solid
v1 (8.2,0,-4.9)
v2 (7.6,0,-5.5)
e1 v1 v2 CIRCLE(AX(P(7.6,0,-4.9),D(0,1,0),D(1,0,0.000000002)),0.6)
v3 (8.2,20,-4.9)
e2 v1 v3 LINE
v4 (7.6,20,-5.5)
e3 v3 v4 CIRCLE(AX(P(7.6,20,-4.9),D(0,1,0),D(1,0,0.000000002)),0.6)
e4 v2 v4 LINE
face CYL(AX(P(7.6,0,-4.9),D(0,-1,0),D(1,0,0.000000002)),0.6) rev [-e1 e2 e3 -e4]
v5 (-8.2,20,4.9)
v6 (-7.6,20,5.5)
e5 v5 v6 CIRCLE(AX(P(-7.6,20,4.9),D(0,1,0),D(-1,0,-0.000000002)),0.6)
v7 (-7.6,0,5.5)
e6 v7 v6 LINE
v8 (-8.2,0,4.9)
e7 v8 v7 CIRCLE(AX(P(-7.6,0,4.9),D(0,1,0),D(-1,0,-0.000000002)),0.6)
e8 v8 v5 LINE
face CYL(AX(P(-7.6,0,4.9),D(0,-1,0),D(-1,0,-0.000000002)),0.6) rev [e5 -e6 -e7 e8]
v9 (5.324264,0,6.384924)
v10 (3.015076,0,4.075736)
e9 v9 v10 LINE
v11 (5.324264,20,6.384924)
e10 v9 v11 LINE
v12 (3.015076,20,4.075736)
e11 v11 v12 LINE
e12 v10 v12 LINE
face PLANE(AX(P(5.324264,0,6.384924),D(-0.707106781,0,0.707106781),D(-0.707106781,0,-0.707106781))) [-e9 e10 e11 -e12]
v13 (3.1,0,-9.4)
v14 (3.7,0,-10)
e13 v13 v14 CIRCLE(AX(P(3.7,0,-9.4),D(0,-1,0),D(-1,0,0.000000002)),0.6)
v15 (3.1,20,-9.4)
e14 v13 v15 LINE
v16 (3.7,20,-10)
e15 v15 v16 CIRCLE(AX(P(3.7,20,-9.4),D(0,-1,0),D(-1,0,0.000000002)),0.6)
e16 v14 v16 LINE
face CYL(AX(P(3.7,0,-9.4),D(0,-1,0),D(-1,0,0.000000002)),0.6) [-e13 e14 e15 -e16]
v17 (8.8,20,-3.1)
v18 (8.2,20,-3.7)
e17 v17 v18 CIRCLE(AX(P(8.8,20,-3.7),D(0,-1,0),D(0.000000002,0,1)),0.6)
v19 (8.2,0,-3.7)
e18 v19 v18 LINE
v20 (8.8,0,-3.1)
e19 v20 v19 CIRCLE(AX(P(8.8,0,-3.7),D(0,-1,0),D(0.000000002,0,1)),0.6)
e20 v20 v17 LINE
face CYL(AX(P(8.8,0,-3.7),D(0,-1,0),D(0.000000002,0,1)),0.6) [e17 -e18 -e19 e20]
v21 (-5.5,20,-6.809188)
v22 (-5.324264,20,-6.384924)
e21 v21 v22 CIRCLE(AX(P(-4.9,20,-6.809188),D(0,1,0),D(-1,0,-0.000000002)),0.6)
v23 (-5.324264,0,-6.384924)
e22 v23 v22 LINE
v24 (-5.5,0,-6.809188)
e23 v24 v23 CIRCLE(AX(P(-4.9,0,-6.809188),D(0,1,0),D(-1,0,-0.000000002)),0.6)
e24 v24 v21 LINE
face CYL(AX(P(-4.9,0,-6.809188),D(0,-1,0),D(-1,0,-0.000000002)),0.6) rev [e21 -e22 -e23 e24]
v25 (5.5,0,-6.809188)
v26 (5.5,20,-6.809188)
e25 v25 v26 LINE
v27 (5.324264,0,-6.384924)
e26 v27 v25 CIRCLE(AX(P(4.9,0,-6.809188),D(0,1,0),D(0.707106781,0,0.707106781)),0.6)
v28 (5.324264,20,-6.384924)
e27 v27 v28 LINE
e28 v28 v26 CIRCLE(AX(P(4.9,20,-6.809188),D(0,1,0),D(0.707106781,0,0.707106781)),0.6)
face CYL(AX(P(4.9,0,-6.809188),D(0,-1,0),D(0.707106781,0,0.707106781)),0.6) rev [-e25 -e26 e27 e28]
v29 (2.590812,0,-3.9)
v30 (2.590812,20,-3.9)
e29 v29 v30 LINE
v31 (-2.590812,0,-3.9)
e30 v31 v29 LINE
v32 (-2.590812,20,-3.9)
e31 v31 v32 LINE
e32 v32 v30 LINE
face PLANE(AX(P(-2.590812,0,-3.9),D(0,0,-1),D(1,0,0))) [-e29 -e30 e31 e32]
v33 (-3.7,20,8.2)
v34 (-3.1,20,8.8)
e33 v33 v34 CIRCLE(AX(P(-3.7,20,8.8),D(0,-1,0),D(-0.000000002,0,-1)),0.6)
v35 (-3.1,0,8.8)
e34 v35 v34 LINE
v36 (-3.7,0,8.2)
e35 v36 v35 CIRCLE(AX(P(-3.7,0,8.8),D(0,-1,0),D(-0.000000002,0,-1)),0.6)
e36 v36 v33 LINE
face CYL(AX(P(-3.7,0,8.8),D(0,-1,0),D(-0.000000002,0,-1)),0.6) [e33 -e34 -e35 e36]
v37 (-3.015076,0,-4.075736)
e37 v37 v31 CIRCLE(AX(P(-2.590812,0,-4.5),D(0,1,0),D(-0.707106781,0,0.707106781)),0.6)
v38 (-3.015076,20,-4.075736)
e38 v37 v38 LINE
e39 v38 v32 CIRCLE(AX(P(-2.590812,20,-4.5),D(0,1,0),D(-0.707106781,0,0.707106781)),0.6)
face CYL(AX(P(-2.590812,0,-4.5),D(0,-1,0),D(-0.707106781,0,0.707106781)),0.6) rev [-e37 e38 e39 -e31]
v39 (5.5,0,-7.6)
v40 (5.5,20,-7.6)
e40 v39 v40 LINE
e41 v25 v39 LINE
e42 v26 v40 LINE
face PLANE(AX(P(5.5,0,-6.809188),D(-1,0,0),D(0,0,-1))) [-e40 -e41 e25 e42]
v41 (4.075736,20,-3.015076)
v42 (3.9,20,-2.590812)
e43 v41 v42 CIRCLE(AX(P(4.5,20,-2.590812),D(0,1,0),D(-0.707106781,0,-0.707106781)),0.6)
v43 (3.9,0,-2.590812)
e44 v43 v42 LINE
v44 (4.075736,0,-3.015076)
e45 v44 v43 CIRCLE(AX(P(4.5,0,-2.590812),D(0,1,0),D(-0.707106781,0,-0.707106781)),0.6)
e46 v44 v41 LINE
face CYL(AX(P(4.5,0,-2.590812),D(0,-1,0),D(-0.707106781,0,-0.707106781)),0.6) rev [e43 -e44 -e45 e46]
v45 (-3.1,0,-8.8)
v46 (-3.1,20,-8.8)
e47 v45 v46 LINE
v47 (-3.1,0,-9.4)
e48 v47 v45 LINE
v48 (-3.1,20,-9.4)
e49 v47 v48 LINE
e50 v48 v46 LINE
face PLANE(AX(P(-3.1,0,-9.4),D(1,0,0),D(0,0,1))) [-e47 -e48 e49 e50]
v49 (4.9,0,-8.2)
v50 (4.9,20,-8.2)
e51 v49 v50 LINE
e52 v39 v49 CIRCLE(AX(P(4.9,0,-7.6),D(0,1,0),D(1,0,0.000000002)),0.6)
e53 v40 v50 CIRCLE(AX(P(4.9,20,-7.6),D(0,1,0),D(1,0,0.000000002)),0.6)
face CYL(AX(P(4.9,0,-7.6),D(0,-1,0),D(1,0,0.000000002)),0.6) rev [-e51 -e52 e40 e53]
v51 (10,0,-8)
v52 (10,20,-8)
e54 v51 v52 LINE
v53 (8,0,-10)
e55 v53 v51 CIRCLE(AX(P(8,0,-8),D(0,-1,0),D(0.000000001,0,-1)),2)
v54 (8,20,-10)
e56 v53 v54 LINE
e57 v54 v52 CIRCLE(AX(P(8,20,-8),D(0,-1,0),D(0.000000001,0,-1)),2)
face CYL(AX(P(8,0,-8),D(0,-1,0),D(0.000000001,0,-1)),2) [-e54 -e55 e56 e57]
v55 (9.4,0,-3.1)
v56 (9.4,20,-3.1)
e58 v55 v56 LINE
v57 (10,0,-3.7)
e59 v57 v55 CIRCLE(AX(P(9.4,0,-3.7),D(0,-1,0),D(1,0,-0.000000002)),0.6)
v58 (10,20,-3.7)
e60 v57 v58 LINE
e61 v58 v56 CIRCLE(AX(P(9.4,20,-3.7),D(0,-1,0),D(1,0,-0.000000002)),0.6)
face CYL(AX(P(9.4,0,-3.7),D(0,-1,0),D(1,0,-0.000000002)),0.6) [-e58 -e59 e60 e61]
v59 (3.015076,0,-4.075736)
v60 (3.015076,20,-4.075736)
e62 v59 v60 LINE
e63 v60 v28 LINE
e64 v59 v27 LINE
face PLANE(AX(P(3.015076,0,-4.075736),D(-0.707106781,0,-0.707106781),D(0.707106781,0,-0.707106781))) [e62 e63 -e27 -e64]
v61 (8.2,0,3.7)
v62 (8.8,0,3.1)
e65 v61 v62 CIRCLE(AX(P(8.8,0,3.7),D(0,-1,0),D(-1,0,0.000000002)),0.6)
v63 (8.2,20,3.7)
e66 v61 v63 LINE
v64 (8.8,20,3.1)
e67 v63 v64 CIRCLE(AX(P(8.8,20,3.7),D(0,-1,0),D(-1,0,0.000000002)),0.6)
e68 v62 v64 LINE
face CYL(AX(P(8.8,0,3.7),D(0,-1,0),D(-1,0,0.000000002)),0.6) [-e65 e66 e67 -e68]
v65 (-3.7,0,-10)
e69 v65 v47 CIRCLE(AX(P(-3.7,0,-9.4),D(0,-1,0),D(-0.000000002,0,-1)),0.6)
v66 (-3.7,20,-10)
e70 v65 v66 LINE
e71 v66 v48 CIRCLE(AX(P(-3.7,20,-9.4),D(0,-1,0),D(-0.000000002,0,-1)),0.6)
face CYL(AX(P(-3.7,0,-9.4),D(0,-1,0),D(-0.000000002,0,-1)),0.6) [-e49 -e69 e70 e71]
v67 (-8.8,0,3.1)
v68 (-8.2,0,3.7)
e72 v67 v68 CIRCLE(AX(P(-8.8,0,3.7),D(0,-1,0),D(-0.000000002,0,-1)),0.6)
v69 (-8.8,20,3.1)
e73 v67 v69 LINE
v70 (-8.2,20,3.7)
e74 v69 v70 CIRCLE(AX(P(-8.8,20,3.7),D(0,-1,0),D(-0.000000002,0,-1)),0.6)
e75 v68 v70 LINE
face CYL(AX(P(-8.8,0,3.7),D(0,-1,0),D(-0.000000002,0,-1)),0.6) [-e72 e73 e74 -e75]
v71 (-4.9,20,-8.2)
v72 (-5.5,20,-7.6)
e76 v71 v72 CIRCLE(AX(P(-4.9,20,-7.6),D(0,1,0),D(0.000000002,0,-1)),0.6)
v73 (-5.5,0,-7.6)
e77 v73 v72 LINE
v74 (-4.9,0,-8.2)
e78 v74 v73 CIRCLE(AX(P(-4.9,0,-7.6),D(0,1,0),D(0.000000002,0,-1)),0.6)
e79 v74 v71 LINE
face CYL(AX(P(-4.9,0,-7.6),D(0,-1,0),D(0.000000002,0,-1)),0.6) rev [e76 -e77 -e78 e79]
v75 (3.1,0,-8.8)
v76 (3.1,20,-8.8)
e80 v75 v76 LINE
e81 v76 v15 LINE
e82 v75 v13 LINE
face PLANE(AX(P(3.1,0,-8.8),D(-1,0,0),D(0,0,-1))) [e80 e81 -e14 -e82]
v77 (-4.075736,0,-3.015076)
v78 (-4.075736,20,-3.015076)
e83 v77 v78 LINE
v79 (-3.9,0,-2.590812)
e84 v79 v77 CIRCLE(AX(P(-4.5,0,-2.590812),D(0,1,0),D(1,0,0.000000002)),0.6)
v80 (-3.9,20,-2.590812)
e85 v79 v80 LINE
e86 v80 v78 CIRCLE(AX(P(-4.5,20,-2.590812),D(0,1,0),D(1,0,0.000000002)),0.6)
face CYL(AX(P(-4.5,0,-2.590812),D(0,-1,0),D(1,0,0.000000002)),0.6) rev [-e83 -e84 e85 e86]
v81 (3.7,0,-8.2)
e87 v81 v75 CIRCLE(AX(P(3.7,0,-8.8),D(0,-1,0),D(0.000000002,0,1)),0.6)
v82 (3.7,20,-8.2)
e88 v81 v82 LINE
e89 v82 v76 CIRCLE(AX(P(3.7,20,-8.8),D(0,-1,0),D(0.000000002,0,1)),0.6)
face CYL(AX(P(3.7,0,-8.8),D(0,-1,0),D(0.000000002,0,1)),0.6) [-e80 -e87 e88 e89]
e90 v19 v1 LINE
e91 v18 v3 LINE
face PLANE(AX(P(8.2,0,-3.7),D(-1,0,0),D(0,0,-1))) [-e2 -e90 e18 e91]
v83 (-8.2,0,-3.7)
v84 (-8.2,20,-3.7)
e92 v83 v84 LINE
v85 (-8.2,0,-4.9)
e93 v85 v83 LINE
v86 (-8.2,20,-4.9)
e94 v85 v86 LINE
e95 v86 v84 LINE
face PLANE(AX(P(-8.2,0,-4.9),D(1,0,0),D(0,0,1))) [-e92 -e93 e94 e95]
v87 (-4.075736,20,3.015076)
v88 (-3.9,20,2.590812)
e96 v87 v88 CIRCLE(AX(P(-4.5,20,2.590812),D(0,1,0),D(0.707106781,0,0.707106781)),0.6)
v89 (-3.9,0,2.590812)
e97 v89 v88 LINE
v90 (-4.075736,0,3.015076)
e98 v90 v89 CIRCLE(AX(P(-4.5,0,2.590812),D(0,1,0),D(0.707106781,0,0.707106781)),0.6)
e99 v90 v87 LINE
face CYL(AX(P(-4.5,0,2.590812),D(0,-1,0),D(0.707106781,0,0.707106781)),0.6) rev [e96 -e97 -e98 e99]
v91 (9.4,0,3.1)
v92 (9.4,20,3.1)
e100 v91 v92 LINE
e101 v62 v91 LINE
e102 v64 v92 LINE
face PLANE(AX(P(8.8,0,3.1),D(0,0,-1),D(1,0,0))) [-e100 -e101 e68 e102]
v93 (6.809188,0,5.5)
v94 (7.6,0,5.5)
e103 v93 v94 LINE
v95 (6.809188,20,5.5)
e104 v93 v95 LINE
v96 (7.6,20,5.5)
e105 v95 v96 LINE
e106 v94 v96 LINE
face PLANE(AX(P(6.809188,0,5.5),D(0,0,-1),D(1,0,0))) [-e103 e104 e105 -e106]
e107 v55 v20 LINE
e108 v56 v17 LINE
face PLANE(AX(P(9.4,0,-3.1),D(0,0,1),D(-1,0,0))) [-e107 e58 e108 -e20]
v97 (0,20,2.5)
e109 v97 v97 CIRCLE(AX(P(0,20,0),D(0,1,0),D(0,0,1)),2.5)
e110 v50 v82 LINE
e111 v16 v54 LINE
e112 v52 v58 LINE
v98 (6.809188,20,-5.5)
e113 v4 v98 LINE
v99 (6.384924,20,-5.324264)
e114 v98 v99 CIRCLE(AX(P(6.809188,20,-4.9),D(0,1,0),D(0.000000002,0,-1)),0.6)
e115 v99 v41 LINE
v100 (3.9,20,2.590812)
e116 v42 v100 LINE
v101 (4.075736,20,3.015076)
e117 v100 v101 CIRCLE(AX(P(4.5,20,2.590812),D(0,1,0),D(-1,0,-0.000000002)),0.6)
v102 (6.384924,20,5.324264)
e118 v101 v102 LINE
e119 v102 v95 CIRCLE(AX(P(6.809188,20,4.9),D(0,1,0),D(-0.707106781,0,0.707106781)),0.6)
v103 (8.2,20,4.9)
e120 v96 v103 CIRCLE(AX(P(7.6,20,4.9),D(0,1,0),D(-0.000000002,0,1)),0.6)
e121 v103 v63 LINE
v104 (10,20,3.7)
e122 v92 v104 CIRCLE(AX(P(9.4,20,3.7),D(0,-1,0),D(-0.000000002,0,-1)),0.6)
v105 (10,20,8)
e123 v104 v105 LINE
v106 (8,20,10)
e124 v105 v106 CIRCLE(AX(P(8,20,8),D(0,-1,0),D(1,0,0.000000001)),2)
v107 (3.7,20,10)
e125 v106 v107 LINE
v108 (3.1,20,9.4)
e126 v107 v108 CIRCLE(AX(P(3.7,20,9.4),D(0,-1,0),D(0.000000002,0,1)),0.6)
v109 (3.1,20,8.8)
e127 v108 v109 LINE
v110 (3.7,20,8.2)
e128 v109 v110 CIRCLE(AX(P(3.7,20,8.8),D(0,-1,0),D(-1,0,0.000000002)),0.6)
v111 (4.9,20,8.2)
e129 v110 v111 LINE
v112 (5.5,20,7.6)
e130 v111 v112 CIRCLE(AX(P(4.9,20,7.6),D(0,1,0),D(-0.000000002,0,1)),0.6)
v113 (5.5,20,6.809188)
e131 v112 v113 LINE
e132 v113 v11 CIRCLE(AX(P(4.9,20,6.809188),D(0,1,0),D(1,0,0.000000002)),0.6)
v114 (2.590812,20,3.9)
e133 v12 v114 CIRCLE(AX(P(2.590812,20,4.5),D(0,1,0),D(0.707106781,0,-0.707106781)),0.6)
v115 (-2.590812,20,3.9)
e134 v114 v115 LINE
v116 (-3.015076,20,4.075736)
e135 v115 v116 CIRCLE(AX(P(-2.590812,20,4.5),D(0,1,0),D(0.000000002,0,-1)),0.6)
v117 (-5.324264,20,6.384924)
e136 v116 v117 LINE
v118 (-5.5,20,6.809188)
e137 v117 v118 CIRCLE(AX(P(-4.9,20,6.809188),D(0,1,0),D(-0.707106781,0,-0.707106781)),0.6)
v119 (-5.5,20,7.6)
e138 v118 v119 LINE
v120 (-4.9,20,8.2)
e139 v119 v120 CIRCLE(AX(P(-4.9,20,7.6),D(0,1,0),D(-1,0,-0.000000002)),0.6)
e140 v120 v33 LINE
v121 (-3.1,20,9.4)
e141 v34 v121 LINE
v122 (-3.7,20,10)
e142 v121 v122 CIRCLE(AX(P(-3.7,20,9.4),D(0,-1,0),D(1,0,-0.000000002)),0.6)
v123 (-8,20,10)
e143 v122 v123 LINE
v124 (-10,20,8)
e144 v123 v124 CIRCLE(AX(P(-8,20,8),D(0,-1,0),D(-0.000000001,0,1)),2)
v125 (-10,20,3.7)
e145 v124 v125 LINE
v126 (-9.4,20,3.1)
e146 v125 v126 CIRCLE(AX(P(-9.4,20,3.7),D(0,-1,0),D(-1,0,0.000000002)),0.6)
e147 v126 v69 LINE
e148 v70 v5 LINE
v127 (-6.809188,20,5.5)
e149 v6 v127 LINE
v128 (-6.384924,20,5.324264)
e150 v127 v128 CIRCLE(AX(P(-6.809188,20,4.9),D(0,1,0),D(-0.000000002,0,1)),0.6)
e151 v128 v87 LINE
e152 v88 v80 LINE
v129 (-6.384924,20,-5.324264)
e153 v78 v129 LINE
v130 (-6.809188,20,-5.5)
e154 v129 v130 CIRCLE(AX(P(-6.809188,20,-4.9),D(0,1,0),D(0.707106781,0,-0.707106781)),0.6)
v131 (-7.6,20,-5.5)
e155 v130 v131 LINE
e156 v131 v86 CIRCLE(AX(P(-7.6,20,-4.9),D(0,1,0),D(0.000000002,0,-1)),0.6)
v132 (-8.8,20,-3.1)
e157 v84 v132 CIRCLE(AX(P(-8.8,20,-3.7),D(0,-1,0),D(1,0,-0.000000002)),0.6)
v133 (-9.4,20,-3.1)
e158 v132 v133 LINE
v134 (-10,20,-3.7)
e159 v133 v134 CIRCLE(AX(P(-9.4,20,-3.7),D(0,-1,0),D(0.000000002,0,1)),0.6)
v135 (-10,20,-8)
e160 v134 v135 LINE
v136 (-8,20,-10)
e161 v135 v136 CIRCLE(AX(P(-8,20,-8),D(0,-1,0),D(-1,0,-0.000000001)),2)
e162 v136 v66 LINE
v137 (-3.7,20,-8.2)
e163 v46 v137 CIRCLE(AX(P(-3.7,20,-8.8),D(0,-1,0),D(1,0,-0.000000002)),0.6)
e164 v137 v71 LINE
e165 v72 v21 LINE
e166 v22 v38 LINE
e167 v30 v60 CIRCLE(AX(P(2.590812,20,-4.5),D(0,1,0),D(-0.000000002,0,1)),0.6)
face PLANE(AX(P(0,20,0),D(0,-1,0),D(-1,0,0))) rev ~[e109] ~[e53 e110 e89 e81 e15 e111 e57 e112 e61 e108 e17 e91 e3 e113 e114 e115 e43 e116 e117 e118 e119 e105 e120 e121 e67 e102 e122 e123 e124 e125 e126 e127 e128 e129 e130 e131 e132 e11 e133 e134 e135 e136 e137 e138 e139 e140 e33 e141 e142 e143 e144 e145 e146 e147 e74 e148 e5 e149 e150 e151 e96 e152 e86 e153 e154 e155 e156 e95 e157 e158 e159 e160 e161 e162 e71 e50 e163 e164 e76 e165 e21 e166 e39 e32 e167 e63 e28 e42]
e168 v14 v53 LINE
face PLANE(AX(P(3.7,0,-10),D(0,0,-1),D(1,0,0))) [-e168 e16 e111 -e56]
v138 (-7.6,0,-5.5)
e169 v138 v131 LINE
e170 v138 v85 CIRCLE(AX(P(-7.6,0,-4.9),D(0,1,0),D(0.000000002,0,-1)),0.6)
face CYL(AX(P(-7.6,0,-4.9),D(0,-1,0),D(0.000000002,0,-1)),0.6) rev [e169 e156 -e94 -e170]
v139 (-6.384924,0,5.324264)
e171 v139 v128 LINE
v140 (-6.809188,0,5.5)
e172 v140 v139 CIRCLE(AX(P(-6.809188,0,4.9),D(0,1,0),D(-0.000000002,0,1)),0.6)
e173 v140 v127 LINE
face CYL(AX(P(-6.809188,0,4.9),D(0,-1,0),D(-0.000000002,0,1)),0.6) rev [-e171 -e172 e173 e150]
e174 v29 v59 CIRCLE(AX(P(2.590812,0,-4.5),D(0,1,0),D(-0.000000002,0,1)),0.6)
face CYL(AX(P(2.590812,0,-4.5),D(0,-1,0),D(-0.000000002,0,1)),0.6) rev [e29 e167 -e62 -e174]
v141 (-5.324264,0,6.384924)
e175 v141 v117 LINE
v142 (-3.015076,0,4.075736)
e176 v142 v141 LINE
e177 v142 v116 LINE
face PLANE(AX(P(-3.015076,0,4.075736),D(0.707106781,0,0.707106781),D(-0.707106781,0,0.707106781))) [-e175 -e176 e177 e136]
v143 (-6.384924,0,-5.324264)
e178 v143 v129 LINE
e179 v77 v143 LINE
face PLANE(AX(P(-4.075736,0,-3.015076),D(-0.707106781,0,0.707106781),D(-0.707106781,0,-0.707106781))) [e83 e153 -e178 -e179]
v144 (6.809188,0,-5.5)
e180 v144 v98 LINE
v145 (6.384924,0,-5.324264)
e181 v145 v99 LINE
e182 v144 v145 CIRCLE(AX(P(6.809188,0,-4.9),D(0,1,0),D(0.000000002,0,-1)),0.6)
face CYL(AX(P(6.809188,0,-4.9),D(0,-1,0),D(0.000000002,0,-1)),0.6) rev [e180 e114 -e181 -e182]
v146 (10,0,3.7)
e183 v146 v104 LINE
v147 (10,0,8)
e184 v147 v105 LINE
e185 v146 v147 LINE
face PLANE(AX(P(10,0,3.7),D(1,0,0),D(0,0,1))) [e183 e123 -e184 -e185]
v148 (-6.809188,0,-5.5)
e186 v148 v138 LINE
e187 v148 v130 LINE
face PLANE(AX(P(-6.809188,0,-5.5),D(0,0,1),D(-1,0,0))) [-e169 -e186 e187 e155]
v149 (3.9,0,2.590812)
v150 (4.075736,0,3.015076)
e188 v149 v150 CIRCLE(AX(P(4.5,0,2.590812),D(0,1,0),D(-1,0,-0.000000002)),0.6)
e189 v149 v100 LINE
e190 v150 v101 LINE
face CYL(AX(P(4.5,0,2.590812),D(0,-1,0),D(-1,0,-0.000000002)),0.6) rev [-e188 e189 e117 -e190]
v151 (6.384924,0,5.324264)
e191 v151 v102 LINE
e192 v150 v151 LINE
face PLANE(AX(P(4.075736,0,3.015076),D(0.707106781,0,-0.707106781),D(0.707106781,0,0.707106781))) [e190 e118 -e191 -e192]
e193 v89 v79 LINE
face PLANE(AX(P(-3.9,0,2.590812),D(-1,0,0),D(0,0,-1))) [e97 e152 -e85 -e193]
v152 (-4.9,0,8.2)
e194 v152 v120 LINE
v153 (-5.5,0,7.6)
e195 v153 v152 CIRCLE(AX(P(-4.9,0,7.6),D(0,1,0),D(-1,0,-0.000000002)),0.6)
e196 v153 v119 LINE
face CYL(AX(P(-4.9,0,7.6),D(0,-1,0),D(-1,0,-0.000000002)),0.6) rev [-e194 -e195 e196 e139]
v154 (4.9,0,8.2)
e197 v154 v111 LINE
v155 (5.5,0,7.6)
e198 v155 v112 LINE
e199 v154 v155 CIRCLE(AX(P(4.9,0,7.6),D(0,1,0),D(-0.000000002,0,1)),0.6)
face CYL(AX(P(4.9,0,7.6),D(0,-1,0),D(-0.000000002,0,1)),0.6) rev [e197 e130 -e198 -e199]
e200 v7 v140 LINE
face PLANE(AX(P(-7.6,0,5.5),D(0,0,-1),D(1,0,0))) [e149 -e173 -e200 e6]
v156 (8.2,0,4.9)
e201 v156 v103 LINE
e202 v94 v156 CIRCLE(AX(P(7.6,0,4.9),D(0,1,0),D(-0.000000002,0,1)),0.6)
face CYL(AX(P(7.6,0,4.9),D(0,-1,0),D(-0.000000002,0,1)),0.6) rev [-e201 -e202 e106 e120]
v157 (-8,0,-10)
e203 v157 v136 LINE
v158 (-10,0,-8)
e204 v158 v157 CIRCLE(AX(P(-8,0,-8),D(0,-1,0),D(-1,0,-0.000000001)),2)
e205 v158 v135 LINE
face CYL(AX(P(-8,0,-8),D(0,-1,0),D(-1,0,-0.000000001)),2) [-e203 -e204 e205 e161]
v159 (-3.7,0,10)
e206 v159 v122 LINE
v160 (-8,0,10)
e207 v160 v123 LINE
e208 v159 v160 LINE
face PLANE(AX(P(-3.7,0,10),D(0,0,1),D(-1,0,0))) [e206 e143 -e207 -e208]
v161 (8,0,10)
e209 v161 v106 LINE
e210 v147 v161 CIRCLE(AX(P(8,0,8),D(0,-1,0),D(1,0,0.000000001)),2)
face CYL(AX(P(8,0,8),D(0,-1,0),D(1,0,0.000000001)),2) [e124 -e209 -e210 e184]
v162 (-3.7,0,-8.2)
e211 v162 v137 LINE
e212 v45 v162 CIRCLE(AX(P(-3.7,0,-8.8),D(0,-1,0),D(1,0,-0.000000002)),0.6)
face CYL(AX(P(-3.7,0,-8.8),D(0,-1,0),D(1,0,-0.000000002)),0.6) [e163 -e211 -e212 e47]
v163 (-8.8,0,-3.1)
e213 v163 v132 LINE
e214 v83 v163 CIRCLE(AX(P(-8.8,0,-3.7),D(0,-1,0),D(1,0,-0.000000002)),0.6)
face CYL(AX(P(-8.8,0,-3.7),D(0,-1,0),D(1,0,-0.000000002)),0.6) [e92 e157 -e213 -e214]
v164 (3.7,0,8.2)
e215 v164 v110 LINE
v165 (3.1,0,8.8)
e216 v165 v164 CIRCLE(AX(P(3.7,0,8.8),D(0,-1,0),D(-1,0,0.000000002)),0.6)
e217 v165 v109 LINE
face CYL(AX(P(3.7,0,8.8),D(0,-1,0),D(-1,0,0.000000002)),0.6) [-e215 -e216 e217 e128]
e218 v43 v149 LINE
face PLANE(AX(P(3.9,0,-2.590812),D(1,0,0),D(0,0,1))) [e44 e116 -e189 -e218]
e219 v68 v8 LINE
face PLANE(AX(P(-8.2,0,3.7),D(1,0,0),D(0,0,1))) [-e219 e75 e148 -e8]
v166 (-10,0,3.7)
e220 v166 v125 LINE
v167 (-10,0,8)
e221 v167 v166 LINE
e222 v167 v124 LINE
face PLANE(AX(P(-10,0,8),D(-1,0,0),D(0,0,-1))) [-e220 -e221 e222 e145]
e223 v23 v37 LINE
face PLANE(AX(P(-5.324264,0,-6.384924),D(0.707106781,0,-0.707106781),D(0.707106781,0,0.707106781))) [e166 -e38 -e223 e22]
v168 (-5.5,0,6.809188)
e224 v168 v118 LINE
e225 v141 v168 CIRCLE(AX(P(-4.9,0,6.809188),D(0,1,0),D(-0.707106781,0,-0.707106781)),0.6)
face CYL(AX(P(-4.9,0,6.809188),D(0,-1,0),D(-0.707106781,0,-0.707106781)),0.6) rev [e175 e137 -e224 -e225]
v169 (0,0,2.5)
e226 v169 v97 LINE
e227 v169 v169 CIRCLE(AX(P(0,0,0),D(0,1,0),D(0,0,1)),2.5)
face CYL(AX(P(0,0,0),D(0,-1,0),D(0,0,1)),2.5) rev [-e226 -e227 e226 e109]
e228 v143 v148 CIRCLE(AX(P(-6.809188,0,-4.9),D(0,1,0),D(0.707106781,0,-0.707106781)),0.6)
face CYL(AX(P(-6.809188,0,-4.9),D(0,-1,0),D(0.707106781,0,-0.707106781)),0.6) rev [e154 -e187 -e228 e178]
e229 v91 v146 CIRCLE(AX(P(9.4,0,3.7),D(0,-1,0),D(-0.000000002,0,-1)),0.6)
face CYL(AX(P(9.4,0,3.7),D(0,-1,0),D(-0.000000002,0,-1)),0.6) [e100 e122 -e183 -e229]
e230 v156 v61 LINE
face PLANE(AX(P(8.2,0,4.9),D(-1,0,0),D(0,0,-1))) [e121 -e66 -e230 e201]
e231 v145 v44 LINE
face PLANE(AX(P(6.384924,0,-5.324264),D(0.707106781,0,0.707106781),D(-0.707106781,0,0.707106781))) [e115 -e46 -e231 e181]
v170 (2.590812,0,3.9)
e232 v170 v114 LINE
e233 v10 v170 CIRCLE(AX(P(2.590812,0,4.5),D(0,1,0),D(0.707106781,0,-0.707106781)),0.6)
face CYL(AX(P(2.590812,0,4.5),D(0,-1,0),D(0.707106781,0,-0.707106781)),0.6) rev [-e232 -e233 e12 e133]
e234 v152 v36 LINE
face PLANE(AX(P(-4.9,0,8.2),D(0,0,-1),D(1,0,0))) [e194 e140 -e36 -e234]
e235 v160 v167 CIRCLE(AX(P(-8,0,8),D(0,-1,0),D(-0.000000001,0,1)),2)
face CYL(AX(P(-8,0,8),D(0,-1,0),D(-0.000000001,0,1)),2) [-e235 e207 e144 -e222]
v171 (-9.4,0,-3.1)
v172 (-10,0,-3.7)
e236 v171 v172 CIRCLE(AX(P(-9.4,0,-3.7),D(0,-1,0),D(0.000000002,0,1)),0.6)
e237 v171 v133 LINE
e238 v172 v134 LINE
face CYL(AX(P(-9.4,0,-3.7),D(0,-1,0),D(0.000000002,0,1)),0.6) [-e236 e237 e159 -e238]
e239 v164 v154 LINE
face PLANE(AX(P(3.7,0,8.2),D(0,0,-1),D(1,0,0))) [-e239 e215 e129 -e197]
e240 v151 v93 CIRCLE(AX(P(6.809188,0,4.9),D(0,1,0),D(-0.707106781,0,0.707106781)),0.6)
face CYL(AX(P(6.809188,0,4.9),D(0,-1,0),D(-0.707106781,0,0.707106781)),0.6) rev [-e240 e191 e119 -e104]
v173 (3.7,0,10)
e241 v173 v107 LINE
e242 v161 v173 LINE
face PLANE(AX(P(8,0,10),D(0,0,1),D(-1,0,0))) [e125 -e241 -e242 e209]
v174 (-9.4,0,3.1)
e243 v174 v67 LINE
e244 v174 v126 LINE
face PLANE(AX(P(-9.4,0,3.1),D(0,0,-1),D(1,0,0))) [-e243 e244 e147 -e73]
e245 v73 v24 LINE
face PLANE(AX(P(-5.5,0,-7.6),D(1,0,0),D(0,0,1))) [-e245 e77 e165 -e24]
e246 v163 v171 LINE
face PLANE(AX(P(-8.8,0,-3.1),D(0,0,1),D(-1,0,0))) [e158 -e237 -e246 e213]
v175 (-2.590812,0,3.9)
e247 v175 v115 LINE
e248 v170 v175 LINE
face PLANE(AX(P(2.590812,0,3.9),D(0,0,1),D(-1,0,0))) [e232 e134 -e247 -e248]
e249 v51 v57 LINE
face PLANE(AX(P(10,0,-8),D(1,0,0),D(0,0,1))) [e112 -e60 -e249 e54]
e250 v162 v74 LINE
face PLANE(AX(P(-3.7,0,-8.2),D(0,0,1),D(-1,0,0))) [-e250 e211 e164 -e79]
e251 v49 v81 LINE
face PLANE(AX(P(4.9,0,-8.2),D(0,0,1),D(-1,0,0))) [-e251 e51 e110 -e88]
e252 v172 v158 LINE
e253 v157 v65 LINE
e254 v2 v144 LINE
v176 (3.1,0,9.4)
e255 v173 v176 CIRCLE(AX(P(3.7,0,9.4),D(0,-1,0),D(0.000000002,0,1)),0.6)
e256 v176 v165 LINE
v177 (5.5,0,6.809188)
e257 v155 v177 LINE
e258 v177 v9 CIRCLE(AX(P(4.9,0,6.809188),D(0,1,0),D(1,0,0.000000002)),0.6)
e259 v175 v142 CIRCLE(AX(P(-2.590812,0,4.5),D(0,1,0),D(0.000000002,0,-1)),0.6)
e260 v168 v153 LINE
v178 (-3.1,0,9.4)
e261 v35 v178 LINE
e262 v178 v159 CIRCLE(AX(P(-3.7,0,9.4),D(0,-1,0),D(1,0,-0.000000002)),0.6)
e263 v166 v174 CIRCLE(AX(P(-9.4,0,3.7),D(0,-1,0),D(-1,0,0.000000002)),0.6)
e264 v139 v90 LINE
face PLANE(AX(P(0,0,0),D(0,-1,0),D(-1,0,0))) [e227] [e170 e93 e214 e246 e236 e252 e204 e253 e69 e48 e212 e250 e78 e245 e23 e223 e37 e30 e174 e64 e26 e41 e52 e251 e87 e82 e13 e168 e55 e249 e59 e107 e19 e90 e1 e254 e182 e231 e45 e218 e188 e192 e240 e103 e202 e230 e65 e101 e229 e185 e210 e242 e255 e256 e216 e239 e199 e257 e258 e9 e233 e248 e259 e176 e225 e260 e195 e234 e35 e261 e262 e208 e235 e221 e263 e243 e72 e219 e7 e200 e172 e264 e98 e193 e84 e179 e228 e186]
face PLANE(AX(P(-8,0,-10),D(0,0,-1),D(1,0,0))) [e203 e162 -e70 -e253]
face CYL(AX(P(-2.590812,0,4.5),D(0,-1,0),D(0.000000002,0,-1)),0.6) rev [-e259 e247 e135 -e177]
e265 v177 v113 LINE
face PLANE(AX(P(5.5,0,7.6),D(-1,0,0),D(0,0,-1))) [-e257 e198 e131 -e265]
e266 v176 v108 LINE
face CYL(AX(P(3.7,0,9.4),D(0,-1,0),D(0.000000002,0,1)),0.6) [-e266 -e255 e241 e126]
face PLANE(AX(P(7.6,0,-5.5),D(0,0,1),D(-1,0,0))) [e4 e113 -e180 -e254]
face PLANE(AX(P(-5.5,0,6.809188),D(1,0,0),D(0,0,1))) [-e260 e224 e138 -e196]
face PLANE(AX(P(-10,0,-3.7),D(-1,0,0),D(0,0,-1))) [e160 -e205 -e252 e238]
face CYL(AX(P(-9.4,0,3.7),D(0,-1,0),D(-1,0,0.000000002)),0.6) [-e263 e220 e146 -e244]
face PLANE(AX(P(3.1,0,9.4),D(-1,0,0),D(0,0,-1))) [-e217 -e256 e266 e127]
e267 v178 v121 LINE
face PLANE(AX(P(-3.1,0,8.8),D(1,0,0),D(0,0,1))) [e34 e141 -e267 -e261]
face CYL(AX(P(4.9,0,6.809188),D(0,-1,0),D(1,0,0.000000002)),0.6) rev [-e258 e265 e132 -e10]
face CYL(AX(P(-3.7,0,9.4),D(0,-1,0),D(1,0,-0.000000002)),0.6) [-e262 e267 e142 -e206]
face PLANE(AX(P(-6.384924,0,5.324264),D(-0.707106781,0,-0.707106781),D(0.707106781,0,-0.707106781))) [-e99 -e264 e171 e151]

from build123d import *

# Parameters (mm, degrees)
SKETCH_1_R      = 2.5
EXTRUDE_1_DEPTH = 20


with BuildPart() as part:
    # 草图1 → 凸台-拉伸1 (new body)
    with BuildSketch(Plane(origin=(0, 0, 0), x_dir=(1, 0, 0), z_dir=(0, 1, 0))):
        with BuildLine():
            Line((3.1, 8.8), (3.1, 9.4))
            ThreePointArc((3.1, 9.4), (3.275735931, 9.824264069), (3.7, 10))
            Line((3.7, 10), (8, 10))
            ThreePointArc((8, 10), (9.414213562, 9.414213562), (10, 8))
            Line((10, 8), (10, 3.7))
            ThreePointArc((10, 3.7), (9.824264069, 3.275735931), (9.4, 3.1))
            Line((9.4, 3.1), (8.8, 3.1))
            ThreePointArc((8.8, 3.1), (8.375735931, 3.275735931), (8.2, 3.7))
            Line((8.2, 3.7), (8.2, 4.9))
            ThreePointArc((8.2, 4.9), (8.024264069, 5.324264069), (7.6, 5.5))
            Line((7.6, 5.5), (6.809188309, 5.5))
            ThreePointArc((6.809188309, 5.5), (6.57957825, 5.45432772), (6.38492424, 5.324264069))
            Line((6.38492424, 5.324264069), (4.075735931, 3.01507576))
            ThreePointArc((4.075735931, 3.01507576), (3.94567228, 2.82042175), (3.9, 2.590811691))
            Line((3.9, 2.590811691), (3.9, 0))
            Line((3.9, 0), (3.9, -2.590811691))
            ThreePointArc((3.9, -2.590811691), (3.94567228, -2.82042175), (4.075735931, -3.01507576))
            Line((4.075735931, -3.01507576), (6.38492424, -5.324264069))
            ThreePointArc((6.38492424, -5.324264069), (6.57957825, -5.45432772), (6.809188309, -5.5))
            Line((6.809188309, -5.5), (7.6, -5.5))
            ThreePointArc((7.6, -5.5), (8.024264069, -5.324264069), (8.2, -4.9))
            Line((8.2, -4.9), (8.2, -3.7))
            ThreePointArc((8.2, -3.7), (8.375735931, -3.275735931), (8.8, -3.1))
            Line((8.8, -3.1), (9.4, -3.1))
            ThreePointArc((9.4, -3.1), (9.824264069, -3.275735931), (10, -3.7))
            Line((10, -3.7), (10, -8))
            ThreePointArc((10, -8), (9.414213562, -9.414213562), (8, -10))
            Line((8, -10), (3.7, -10))
            ThreePointArc((3.7, -10), (3.275735931, -9.824264069), (3.1, -9.4))
            Line((3.1, -9.4), (3.1, -8.8))
            ThreePointArc((3.1, -8.8), (3.275735931, -8.375735931), (3.7, -8.2))
            Line((3.7, -8.2), (4.9, -8.2))
            ThreePointArc((4.9, -8.2), (5.324264069, -8.024264069), (5.5, -7.6))
            Line((5.5, -7.6), (5.5, -6.809188309))
            ThreePointArc((5.5, -6.809188309), (5.45432772, -6.57957825), (5.324264069, -6.38492424))
            Line((5.324264069, -6.38492424), (3.01507576, -4.075735931))
            ThreePointArc((3.01507576, -4.075735931), (2.82042175, -3.94567228), (2.590811691, -3.9))
            Line((2.590811691, -3.9), (0, -3.9))
            Line((0, -3.9), (-2.590811691, -3.9))
            ThreePointArc((-2.590811691, -3.9), (-2.82042175, -3.94567228), (-3.01507576, -4.075735931))
            Line((-3.01507576, -4.075735931), (-5.324264069, -6.38492424))
            ThreePointArc((-5.324264069, -6.38492424), (-5.45432772, -6.57957825), (-5.5, -6.809188309))
            Line((-5.5, -6.809188309), (-5.5, -7.6))
            ThreePointArc((-5.5, -7.6), (-5.324264069, -8.024264069), (-4.9, -8.2))
            Line((-4.9, -8.2), (-3.7, -8.2))
            ThreePointArc((-3.7, -8.2), (-3.275735931, -8.375735931), (-3.1, -8.8))
            Line((-3.1, -8.8), (-3.1, -9.4))
            ThreePointArc((-3.1, -9.4), (-3.275735931, -9.824264069), (-3.7, -10))
            Line((-3.7, -10), (-8, -10))
            ThreePointArc((-8, -10), (-9.414213562, -9.414213562), (-10, -8))
            Line((-10, -8), (-10, -3.7))
            ThreePointArc((-10, -3.7), (-9.824264069, -3.275735931), (-9.4, -3.1))
            Line((-9.4, -3.1), (-8.8, -3.1))
            ThreePointArc((-8.8, -3.1), (-8.375735931, -3.275735931), (-8.2, -3.7))
            Line((-8.2, -3.7), (-8.2, -4.9))
            ThreePointArc((-8.2, -4.9), (-8.024264069, -5.324264069), (-7.6, -5.5))
            Line((-7.6, -5.5), (-6.809188309, -5.5))
            ThreePointArc((-6.809188309, -5.5), (-6.57957825, -5.45432772), (-6.38492424, -5.324264069))
            Line((-6.38492424, -5.324264069), (-4.075735931, -3.01507576))
            ThreePointArc((-4.075735931, -3.01507576), (-3.94567228, -2.82042175), (-3.9, -2.590811691))
            Line((-3.9, -2.590811691), (-3.9, 0))
            Line((-3.9, 0), (-3.9, 2.590811691))
            ThreePointArc((-3.9, 2.590811691), (-3.94567228, 2.82042175), (-4.075735931, 3.01507576))
            Line((-4.075735931, 3.01507576), (-6.38492424, 5.324264069))
            ThreePointArc((-6.38492424, 5.324264069), (-6.57957825, 5.45432772), (-6.809188309, 5.5))
            Line((-6.809188309, 5.5), (-7.6, 5.5))
            ThreePointArc((-7.6, 5.5), (-8.024264069, 5.324264069), (-8.2, 4.9))
            Line((-8.2, 4.9), (-8.2, 3.7))
            ThreePointArc((-8.2, 3.7), (-8.375735931, 3.275735931), (-8.8, 3.1))
            Line((-8.8, 3.1), (-9.4, 3.1))
            ThreePointArc((-9.4, 3.1), (-9.824264069, 3.275735931), (-10, 3.7))
            Line((-10, 3.7), (-10, 8))
            ThreePointArc((-10, 8), (-9.414213562, 9.414213562), (-8, 10))
            Line((-8, 10), (-3.7, 10))
            ThreePointArc((-3.7, 10), (-3.275735931, 9.824264069), (-3.1, 9.4))
            Line((-3.1, 9.4), (-3.1, 8.8))
            ThreePointArc((-3.1, 8.8), (-3.275735931, 8.375735931), (-3.7, 8.2))
            Line((-3.7, 8.2), (-4.9, 8.2))
            ThreePointArc((-4.9, 8.2), (-5.324264069, 8.024264069), (-5.5, 7.6))
            Line((-5.5, 7.6), (-5.5, 6.809188309))
            ThreePointArc((-5.5, 6.809188309), (-5.45432772, 6.57957825), (-5.324264069, 6.38492424))
            Line((-5.324264069, 6.38492424), (-3.01507576, 4.075735931))
            ThreePointArc((-3.01507576, 4.075735931), (-2.82042175, 3.94567228), (-2.590811691, 3.9))
            Line((-2.590811691, 3.9), (0, 3.9))
            Line((0, 3.9), (2.590811691, 3.9))
            ThreePointArc((2.590811691, 3.9), (2.82042175, 3.94567228), (3.01507576, 4.075735931))
            Line((3.01507576, 4.075735931), (5.324264069, 6.38492424))
            ThreePointArc((5.324264069, 6.38492424), (5.45432772, 6.57957825), (5.5, 6.809188309))
            Line((5.5, 6.809188309), (5.5, 7.6))
            ThreePointArc((5.5, 7.6), (5.324264069, 8.024264069), (4.9, 8.2))
            Line((4.9, 8.2), (3.7, 8.2))
            ThreePointArc((3.7, 8.2), (3.275735931, 8.375735931), (3.1, 8.8))
        make_face()
        with Locations(Location((0, 0, 0), (0, 0, 270))):
            Circle(SKETCH_1_R, mode=Mode.SUBTRACT)
    extrude(amount=EXTRUDE_1_DEPTH)


solid = part.part
